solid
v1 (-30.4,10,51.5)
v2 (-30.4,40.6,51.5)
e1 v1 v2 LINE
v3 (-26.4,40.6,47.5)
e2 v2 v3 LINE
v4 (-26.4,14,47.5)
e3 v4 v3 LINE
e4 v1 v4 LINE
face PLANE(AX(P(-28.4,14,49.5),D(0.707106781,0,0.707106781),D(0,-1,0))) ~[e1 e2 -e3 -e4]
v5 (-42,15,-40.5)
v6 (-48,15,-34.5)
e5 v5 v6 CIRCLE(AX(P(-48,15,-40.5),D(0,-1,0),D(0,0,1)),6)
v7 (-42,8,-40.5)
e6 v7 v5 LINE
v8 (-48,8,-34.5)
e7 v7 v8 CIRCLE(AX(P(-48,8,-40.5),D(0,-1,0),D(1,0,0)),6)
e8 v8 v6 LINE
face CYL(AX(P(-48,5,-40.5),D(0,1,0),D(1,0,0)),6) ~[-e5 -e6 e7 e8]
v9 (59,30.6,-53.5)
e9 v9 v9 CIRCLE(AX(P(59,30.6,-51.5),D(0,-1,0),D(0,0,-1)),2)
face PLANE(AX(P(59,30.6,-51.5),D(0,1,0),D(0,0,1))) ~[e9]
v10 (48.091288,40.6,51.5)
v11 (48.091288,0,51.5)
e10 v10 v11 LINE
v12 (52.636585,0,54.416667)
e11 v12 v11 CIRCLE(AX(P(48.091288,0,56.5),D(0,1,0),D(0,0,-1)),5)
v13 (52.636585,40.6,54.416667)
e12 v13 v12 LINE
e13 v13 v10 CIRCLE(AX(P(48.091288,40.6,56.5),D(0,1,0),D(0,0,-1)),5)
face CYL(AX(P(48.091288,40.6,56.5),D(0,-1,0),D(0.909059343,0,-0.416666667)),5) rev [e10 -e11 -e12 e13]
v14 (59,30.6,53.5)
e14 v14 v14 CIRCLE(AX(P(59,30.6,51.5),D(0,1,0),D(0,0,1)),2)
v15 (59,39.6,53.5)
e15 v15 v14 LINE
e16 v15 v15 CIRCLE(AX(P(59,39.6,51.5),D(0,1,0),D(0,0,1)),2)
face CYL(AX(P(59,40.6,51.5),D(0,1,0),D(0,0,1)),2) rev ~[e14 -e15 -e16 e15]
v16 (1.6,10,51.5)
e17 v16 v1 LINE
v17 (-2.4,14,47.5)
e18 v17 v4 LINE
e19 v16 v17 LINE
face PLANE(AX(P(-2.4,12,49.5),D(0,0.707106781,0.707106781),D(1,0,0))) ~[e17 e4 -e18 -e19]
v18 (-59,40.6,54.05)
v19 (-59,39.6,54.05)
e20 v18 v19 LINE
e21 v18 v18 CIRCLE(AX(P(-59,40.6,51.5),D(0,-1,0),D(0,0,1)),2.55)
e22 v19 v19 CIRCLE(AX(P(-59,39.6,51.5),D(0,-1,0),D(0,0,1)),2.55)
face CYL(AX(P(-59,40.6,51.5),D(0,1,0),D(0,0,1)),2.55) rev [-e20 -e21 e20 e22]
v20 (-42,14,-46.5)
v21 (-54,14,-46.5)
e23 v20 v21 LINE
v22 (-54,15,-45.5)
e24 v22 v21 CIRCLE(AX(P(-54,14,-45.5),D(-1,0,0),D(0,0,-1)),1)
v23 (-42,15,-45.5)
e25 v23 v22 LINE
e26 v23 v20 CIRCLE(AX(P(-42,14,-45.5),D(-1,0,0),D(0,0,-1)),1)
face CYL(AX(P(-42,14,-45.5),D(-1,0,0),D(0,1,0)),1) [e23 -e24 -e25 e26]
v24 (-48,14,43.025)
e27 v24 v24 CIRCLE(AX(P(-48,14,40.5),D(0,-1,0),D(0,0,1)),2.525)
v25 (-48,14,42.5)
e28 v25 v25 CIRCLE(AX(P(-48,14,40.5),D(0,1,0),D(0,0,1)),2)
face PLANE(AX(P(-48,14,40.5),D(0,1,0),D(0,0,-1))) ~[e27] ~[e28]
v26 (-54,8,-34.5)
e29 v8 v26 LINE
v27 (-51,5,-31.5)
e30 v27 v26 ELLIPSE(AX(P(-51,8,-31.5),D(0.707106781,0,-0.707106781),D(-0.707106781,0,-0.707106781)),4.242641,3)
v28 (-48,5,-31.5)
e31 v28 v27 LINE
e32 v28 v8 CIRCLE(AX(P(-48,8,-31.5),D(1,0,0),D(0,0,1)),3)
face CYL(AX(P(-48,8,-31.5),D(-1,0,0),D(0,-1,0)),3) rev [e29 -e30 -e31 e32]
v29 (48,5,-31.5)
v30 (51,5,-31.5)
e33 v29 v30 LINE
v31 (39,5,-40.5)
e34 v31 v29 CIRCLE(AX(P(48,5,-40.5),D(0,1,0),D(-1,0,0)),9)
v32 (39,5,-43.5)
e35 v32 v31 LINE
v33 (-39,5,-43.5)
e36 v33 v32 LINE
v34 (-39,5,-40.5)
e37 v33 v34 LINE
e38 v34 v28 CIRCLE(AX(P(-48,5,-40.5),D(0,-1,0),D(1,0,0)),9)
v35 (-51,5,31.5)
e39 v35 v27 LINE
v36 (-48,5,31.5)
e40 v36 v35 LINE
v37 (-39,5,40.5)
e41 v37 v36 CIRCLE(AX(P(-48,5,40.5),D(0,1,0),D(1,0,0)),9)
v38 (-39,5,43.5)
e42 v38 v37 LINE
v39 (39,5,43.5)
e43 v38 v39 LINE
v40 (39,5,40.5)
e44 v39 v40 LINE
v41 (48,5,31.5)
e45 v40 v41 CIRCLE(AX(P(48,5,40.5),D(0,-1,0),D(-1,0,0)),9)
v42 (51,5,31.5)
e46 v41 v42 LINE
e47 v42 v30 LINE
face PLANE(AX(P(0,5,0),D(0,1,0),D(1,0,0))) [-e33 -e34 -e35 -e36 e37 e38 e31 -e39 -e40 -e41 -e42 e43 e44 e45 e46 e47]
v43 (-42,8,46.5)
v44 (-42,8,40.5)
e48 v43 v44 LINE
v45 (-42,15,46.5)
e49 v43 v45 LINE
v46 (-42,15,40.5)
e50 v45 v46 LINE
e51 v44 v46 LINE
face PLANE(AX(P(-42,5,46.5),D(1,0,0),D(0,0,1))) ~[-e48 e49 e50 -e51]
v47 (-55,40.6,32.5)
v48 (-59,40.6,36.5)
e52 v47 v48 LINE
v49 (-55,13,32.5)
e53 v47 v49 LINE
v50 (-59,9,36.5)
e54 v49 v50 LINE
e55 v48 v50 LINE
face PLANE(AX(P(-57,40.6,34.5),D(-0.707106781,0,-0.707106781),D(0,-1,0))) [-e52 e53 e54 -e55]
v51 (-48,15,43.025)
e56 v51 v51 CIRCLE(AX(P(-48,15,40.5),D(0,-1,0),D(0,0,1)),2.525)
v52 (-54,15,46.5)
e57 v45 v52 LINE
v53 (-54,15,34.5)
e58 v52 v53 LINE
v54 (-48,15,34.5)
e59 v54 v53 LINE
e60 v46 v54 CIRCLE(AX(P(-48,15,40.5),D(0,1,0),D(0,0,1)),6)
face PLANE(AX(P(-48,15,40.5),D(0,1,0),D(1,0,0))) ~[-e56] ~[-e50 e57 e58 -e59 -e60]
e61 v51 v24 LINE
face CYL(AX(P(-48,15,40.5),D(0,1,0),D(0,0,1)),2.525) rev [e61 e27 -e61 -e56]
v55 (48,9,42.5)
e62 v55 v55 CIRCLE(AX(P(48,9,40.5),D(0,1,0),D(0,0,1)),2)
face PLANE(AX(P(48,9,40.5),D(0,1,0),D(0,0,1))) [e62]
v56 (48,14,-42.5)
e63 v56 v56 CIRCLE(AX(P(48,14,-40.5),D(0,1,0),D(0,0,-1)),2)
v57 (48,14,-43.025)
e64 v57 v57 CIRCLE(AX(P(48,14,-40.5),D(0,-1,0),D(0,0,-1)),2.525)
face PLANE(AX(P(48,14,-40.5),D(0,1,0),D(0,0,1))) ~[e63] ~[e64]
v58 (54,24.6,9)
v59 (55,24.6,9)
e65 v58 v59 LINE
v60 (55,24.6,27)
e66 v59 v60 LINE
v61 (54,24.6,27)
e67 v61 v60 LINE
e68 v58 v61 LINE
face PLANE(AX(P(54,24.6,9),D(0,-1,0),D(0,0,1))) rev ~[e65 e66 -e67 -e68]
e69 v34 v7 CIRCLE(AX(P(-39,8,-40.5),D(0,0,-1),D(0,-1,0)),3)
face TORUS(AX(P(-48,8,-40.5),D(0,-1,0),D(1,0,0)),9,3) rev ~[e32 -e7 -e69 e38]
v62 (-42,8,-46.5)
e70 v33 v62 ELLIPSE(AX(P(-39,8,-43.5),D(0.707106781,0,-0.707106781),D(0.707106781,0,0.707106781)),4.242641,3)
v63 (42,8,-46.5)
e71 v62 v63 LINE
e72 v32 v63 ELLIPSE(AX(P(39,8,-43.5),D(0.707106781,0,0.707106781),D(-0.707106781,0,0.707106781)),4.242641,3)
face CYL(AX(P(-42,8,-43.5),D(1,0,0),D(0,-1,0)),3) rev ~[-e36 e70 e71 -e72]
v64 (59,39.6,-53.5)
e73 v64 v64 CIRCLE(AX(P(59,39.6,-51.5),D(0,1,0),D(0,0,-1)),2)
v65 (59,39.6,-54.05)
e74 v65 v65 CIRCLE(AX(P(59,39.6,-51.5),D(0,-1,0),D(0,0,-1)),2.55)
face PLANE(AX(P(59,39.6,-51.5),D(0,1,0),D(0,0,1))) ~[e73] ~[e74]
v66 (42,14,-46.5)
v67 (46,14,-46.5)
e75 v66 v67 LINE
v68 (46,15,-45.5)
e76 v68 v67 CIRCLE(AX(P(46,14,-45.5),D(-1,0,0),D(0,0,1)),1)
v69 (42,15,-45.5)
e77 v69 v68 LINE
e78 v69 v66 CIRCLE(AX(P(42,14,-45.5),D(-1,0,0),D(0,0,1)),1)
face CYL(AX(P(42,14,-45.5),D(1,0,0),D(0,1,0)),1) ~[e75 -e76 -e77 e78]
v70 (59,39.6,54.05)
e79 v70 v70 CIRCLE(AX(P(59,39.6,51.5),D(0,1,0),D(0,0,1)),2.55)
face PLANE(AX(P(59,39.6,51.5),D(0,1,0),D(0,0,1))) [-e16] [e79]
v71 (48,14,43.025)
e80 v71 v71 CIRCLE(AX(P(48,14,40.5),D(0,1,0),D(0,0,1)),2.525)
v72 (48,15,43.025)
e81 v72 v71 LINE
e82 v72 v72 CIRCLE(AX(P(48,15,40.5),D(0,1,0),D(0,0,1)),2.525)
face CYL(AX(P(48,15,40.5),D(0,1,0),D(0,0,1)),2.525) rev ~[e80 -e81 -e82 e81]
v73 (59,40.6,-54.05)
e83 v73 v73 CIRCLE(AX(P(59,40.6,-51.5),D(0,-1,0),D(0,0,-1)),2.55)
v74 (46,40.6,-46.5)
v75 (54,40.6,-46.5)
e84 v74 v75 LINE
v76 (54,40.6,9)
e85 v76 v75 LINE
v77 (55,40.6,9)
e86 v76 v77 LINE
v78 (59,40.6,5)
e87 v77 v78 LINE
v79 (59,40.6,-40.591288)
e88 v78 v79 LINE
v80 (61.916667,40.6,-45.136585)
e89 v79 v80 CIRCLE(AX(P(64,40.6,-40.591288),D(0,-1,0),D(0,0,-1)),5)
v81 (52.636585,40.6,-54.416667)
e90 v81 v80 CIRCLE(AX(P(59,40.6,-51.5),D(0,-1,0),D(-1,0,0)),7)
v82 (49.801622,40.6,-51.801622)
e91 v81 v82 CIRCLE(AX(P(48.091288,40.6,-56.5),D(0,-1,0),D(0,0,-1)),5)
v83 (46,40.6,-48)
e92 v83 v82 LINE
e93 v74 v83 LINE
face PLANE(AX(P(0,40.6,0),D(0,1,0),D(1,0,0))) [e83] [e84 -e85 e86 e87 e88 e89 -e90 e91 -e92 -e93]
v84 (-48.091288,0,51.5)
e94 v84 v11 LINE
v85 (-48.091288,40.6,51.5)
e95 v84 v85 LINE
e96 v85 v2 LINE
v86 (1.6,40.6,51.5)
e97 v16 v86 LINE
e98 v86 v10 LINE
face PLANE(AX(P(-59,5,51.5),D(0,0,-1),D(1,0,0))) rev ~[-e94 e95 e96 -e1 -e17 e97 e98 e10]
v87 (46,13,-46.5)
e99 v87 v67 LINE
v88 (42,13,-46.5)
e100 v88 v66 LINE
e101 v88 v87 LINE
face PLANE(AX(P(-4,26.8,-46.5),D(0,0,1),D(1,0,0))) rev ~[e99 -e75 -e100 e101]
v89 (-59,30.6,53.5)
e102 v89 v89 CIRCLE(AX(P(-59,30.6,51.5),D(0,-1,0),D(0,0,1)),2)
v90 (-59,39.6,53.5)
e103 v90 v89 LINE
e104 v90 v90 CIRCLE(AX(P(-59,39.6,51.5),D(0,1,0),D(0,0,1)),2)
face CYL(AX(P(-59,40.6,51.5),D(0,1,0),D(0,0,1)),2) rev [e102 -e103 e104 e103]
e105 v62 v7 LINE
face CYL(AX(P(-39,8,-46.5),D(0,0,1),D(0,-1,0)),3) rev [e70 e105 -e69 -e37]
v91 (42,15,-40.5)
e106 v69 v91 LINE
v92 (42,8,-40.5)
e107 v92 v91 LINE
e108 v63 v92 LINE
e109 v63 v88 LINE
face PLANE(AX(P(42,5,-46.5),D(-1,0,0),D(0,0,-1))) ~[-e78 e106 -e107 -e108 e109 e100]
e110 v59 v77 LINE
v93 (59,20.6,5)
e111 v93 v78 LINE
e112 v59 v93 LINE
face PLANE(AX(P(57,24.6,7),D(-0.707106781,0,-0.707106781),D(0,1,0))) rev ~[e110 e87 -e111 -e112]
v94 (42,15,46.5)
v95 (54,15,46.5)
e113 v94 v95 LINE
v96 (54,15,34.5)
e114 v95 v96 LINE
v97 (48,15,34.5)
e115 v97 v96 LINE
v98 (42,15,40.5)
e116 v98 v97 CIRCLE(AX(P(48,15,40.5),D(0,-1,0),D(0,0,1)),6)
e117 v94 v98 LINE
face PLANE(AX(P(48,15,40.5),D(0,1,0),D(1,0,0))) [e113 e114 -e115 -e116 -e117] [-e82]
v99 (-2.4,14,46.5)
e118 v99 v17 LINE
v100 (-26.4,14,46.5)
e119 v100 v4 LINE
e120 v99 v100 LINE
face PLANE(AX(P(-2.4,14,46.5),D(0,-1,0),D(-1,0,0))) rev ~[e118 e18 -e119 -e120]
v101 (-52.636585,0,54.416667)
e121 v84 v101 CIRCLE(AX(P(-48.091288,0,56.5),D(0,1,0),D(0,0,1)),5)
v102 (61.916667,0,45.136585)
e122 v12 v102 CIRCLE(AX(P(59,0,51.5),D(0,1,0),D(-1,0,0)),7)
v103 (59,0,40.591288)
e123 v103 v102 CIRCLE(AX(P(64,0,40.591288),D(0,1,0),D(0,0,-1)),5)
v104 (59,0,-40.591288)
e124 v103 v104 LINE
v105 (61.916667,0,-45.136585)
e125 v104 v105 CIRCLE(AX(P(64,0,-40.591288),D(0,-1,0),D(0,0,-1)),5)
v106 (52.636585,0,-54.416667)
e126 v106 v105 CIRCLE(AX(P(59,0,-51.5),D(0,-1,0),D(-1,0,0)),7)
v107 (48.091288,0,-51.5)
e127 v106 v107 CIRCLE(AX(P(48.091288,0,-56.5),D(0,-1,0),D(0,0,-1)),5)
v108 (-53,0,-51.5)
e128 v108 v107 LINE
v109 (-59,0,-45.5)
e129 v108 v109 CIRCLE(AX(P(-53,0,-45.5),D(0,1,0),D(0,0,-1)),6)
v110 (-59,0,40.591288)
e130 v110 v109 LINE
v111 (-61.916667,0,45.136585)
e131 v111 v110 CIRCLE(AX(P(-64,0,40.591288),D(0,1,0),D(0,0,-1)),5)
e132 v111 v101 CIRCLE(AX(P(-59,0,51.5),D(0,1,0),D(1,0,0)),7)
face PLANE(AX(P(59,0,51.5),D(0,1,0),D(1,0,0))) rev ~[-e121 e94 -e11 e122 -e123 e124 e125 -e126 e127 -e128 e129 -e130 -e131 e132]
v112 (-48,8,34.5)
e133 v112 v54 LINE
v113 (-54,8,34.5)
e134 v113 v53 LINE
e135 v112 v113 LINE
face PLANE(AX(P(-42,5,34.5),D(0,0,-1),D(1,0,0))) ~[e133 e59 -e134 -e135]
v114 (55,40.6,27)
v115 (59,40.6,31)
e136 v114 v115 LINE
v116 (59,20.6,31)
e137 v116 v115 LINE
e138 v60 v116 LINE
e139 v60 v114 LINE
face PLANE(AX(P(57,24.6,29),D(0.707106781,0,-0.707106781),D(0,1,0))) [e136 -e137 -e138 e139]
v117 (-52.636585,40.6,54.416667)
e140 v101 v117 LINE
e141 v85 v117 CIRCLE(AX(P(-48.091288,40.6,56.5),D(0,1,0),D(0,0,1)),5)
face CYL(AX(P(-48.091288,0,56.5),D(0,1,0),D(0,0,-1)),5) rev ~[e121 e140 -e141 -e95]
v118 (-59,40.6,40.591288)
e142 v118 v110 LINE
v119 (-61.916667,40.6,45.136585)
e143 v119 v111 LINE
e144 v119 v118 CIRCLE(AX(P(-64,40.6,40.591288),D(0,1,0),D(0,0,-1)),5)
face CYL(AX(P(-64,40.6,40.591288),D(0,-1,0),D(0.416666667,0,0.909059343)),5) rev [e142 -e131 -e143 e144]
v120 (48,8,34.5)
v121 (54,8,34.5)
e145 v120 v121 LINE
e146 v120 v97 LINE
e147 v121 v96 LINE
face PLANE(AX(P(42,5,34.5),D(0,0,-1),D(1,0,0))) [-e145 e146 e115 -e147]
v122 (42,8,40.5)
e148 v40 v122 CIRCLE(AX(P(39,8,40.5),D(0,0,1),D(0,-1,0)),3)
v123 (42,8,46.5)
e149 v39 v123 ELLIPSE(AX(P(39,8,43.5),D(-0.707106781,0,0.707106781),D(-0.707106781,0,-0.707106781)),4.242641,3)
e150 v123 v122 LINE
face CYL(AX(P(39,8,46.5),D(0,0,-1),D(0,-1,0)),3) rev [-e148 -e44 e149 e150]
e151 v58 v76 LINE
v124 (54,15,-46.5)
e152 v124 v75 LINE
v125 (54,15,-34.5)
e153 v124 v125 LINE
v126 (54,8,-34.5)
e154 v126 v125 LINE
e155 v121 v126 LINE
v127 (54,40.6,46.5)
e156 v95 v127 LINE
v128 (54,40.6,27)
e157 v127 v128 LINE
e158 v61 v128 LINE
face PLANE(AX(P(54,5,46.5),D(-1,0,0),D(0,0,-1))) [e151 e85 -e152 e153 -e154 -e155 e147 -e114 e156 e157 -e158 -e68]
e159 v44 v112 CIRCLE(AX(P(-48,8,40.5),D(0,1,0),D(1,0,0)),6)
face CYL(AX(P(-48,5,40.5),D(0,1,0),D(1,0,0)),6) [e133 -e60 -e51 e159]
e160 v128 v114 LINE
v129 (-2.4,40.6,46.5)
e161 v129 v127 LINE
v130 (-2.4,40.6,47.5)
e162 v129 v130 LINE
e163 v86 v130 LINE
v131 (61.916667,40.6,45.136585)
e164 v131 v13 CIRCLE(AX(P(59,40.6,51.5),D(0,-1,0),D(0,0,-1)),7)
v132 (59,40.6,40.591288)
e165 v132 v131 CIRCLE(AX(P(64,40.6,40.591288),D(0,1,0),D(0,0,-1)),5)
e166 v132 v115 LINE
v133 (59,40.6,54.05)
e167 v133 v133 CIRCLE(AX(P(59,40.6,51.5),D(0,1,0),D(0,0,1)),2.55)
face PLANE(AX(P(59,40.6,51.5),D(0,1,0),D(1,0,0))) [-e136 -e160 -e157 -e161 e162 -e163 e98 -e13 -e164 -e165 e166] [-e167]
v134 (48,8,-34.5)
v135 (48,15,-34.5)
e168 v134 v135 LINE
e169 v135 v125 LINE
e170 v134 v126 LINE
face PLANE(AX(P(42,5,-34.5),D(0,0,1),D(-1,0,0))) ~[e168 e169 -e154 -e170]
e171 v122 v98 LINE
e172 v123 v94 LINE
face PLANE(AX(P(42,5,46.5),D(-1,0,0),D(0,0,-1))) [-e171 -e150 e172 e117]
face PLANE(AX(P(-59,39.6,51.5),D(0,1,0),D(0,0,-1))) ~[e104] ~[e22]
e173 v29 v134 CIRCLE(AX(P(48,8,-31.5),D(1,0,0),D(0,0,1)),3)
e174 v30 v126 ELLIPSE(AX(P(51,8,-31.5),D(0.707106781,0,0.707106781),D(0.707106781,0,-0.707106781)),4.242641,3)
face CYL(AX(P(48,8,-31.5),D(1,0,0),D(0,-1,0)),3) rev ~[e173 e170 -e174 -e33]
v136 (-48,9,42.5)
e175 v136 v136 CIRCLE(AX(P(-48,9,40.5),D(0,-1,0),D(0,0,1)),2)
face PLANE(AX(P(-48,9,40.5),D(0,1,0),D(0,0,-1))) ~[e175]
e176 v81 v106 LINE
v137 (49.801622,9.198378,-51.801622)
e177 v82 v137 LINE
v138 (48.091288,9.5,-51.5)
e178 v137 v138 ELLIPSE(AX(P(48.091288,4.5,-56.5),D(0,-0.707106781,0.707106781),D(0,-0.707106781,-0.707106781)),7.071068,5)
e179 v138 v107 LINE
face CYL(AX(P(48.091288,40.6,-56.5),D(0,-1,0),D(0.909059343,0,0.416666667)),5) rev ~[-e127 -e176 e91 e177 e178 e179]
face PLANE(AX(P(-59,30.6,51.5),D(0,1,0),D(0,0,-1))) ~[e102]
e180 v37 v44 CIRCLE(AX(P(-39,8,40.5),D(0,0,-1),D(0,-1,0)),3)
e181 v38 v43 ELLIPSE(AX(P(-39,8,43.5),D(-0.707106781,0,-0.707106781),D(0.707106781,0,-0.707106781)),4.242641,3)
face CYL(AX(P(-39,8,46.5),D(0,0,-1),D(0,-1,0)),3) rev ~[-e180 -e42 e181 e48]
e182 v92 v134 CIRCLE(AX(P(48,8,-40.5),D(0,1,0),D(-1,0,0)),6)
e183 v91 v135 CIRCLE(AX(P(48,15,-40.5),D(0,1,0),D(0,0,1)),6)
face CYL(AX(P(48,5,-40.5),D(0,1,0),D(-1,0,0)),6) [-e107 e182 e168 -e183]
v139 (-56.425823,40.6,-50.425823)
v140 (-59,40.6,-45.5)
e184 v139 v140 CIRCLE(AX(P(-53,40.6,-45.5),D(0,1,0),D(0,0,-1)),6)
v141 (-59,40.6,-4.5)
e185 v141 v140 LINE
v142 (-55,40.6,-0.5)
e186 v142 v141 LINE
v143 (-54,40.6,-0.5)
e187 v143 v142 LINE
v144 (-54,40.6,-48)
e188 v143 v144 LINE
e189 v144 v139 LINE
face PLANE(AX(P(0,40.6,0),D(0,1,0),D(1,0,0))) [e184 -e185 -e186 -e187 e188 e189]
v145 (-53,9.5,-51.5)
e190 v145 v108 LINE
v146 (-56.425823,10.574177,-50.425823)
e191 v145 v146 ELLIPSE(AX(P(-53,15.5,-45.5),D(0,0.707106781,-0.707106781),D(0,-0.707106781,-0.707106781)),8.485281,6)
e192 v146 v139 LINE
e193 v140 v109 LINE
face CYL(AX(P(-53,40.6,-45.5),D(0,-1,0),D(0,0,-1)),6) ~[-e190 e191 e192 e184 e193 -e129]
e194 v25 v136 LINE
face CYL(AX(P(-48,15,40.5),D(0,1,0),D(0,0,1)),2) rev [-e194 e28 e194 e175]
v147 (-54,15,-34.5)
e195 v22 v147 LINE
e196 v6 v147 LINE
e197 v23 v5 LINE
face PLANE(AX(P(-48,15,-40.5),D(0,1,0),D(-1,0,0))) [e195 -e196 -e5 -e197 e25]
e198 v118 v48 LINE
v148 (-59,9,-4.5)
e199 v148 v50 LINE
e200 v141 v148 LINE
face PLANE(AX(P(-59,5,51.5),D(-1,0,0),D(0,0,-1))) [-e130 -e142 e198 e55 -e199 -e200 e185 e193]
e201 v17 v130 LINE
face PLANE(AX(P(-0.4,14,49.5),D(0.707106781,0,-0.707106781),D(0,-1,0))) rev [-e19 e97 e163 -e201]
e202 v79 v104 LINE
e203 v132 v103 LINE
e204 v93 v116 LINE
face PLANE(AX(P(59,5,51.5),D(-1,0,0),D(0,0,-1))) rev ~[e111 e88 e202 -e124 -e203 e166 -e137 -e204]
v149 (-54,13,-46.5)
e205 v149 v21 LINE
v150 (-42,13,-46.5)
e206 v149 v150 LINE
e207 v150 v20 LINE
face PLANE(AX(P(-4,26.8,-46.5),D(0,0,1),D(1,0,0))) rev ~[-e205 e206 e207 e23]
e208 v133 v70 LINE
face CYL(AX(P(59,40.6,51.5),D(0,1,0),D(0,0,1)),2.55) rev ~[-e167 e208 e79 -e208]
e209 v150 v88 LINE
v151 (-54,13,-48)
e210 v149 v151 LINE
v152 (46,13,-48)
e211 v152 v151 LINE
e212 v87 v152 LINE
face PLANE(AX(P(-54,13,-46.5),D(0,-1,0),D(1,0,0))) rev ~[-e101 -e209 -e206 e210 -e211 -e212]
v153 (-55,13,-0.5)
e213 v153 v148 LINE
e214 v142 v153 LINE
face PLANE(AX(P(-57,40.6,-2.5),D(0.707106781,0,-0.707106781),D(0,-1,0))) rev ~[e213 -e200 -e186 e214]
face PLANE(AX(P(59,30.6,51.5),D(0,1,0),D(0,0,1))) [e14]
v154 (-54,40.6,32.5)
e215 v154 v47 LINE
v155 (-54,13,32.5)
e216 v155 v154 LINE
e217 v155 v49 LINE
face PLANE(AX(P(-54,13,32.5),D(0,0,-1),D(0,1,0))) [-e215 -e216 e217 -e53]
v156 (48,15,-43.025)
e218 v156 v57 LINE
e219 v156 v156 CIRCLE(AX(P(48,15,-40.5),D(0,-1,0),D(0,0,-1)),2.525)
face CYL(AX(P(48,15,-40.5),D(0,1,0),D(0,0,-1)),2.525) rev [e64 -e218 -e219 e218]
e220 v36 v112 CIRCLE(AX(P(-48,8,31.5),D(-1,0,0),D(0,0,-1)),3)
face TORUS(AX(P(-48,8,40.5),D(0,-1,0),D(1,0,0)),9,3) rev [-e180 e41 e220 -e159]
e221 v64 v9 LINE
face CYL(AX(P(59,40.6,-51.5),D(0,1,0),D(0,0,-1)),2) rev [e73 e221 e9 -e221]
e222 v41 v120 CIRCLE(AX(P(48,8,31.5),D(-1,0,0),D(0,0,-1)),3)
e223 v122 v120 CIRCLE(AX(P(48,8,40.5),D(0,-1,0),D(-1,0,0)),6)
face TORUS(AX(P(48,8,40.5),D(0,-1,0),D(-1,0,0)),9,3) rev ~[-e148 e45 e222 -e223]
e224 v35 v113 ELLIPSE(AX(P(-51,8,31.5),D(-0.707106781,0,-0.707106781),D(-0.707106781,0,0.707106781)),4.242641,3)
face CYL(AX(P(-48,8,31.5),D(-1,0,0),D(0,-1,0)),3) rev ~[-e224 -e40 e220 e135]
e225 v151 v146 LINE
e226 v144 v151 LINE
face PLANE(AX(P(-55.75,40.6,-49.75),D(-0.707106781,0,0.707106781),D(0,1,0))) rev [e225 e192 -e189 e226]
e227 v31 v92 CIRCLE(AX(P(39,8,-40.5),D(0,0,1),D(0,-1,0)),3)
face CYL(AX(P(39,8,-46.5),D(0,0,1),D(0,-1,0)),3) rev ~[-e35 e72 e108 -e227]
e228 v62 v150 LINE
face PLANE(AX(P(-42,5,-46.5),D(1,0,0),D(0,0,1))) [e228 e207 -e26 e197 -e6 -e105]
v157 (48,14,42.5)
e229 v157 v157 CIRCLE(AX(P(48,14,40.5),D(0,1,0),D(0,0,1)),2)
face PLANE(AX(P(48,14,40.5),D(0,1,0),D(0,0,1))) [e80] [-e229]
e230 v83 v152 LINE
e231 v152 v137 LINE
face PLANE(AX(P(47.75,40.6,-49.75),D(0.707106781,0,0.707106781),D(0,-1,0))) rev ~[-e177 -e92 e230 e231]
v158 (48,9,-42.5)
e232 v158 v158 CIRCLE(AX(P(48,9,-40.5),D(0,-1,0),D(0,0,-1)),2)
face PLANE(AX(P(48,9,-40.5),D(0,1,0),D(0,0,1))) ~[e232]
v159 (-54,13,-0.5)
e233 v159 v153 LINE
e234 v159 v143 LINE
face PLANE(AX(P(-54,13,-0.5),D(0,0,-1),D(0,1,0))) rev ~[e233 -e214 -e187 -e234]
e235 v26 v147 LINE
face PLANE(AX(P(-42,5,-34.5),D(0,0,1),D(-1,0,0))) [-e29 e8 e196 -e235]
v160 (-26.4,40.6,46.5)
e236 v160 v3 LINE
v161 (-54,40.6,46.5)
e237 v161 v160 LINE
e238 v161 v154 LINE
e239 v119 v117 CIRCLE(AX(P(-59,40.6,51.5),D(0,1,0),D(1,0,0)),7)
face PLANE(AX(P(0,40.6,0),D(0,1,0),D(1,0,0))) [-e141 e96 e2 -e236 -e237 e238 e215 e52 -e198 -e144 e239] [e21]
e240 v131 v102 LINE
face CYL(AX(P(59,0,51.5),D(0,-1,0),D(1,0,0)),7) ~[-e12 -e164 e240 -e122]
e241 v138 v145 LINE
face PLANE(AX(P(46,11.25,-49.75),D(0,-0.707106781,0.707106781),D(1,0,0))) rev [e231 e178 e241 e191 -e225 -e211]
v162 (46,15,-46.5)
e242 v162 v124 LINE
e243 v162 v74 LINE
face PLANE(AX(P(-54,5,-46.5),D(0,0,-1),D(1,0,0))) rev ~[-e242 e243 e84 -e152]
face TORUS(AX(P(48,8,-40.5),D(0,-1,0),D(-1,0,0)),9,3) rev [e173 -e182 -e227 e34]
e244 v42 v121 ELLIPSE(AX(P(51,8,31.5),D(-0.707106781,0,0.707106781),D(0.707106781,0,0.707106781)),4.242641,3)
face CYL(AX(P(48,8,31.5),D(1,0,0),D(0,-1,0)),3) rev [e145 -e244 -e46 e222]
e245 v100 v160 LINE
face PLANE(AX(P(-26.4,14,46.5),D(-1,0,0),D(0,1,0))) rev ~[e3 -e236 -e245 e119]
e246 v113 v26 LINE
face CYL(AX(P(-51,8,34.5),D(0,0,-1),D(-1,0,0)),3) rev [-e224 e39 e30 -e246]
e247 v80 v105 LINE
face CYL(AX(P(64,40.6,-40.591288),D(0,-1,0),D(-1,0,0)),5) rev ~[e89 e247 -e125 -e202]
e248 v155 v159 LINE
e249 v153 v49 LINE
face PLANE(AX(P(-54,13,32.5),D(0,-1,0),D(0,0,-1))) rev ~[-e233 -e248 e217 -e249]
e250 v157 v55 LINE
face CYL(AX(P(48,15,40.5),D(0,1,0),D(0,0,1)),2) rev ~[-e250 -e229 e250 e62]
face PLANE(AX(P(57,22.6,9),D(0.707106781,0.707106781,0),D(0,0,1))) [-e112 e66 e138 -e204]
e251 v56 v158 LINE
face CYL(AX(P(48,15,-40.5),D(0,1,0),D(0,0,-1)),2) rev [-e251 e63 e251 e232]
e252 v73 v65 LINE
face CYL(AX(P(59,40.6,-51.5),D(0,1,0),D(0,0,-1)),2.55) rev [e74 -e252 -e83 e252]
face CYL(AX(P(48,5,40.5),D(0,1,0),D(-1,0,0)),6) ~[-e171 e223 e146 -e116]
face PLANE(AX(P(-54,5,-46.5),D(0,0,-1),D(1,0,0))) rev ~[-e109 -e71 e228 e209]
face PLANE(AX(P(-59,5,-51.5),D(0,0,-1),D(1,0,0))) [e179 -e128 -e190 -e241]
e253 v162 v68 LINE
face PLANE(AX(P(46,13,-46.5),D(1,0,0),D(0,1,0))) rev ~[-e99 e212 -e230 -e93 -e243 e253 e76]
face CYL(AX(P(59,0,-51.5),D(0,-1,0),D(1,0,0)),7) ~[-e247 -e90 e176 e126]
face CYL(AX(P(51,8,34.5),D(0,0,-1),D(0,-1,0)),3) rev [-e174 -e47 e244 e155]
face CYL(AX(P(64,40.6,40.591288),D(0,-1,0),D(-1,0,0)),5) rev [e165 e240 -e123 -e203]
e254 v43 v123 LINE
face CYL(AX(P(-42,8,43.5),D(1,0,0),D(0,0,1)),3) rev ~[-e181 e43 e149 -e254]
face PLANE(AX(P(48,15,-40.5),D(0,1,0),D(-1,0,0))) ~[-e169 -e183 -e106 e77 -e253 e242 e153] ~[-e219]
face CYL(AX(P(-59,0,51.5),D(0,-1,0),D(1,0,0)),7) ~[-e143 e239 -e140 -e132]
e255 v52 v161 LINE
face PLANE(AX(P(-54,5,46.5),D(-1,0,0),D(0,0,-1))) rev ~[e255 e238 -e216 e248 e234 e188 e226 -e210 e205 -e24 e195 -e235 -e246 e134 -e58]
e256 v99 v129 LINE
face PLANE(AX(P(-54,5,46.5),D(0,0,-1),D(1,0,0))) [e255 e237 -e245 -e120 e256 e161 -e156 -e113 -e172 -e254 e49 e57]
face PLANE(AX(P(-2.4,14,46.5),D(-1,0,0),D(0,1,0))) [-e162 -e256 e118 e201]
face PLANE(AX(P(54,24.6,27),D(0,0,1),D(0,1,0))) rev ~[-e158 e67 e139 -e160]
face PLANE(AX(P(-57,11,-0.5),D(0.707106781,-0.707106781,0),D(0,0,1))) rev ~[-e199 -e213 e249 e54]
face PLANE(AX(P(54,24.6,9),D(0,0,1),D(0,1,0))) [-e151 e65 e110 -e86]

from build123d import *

# Parameters (mm, degrees)
SKETCH1_W               = 118
SKETCH1_H               = 103
SKETCH1_W_2             = 108
SKETCH1_H_2             = 93
SKETCH1_W_3             = 106
SKETCH1_H_3             = 91
BOSS_EXTRUDE1_DEPTH     = 5
SKETCH2_W               = 118
SKETCH2_H               = 103
SKETCH2_W_2             = 108
SKETCH2_H_2             = 93
BOSS_EXTRUDE2_DEPTH     = 35.6
SKETCH3_W               = 12
SKETCH3_H               = 12
BOSS_EXTRUDE3_DEPTH     = 10
MIRROR5_COPY_1_SKETCH_W = 12
MIRROR5_COPY_1_SKETCH_H = 12
MIRROR5_COPY_1_DEPTH    = 10
SKETCH4_R               = 2
CUT_EXTRUDE1_DEPTH      = 6
SKETCH4_3_R             = 2.525
CUT_EXTRUDE2_DEPTH      = 1
SKETCH6_W               = 100
SKETCH6_H               = 27.6
CUT_EXTRUDE3_DEPTH      = 122.381052887
SKETCH7_W               = 33
SKETCH7_H               = 27.6
CUT_EXTRUDE4_DEPTH      = 131.650717564
SKETCH8_W               = 24
SKETCH8_H               = 26.6
CUT_EXTRUDE5_DEPTH      = 122.381052887
CHAMFER1_SIZE           = 3.5
SKETCH10_W              = 18
SKETCH10_H              = 16
CUT_EXTRUDE7_DEPTH      = 131.650717564
SKETCH11_R              = 7
BOSS_EXTRUDE4_DEPTH     = 40.6
FILLET1_R               = 6
CHAMFER2_SIZE           = 4
CHAMFER3_SIZE           = 4
FILLET2_R               = 3
CHAMFER4_SIZE           = 4
FILLET7_R               = 5
FILLET8_R               = 1
FILLET9_R               = 6
SKETCH12_R              = 2
CUT_EXTRUDE9_DEPTH      = 10
SKETCH12_3_R            = 2.55
CUT_EXTRUDE10_DEPTH     = 1


with BuildPart() as part:
    # Sketch1 → Boss-Extrude1 (new body)
    # profile 1 of 3: a face of its own
    with BuildSketch(Plane(origin=(0, 0, 0), x_dir=(1, 0, 0), z_dir=(0, 1, 0))):
        Rectangle(SKETCH1_W, SKETCH1_H)
        Rectangle(SKETCH1_W_2, SKETCH1_H_2, mode=Mode.SUBTRACT)
    # profile 2 of 3: a face of its own
    with BuildSketch(Plane(origin=(0, 0, 0), x_dir=(1, 0, 0), z_dir=(0, 1, 0))):
        Rectangle(SKETCH1_W_2, SKETCH1_H_2)
        Rectangle(SKETCH1_W_3, SKETCH1_H_3, mode=Mode.SUBTRACT)
    # profile 3 of 3: a face of its own
    with BuildSketch(Plane(origin=(0, 0, 0), x_dir=(1, 0, 0), z_dir=(0, 1, 0))):
        Rectangle(SKETCH1_W_3, SKETCH1_H_3)
    extrude(amount=BOSS_EXTRUDE1_DEPTH)

    # Sketch2 → Boss-Extrude2 (add)
    with BuildSketch(Plane(origin=(0, 5, 0), x_dir=(1, 0, 0), z_dir=(0, 1, 0))):
        Rectangle(SKETCH2_W, SKETCH2_H)
        Rectangle(SKETCH2_W_2, SKETCH2_H_2, mode=Mode.SUBTRACT)
    extrude(amount=BOSS_EXTRUDE2_DEPTH)

    # Sketch3 → Boss-Extrude3 (add)
    with BuildSketch(Plane(origin=(0, 5, 0), x_dir=(1, 0, 0), z_dir=(0, 1, 0))):
        with Locations((48, -40.5)):
            Rectangle(SKETCH3_W, SKETCH3_H)
    boss_extrude3 = extrude(amount=BOSS_EXTRUDE3_DEPTH)

    # Mirror4: Boss-Extrude3 across plane
    add(boss_extrude3.mirror(Plane(origin=(0, 0, 0), x_dir=(0, 0, 1), z_dir=(1, 0, 0))))

    # Mirror5: Boss-Extrude3 across plane
    add(boss_extrude3.mirror(Plane.XY))

    # Mirror5 copy 1 sketch → Mirror5 copy 1 (add)
    with BuildSketch(Plane(origin=(0, 5, 0), x_dir=(-1, 0, 0), z_dir=(0, 1, 0))):
        with Locations((48, -40.5)):
            Rectangle(MIRROR5_COPY_1_SKETCH_W, MIRROR5_COPY_1_SKETCH_H)
    extrude(amount=MIRROR5_COPY_1_DEPTH)

    # Sketch4 → Cut-Extrude1 (cut)
    with BuildSketch(Plane(origin=(0, 15, 0), x_dir=(1, 0, 0), z_dir=(0, 1, 0))):
        with Locations(Location((48, -40.5, 0), (0, 0, 270))):
            Circle(SKETCH4_R)
    cut_extrude1 = extrude(amount=-CUT_EXTRUDE1_DEPTH, mode=Mode.SUBTRACT)

    # Sketch4<3> → Cut-Extrude2 (cut)
    with BuildSketch(Plane(origin=(0, 15, 0), x_dir=(1, 0, 0), z_dir=(0, 1, 0))):
        with Locations(Location((48, -40.5, 0), (0, 0, 270))):
            Circle(SKETCH4_3_R)
    cut_extrude2 = extrude(amount=-CUT_EXTRUDE2_DEPTH, mode=Mode.SUBTRACT)

    # Mirror2: Boss-Extrude3, Cut-Extrude1, Cut-Extrude2 across plane
    add(boss_extrude3.mirror(Plane.XY))
    add(cut_extrude1.mirror(Plane.XY), mode=Mode.SUBTRACT)
    add(cut_extrude2.mirror(Plane.XY), mode=Mode.SUBTRACT)

    # Mirror2 at the second plane: Boss-Extrude3, Cut-Extrude1, Cut-Extrude2 across plane
    add(boss_extrude3.mirror(Plane(origin=(0, 0, 0), x_dir=(0, 0, 1), z_dir=(1, 0, 0))))
    add(cut_extrude1.mirror(Plane(origin=(0, 0, 0), x_dir=(0, 0, 1), z_dir=(1, 0, 0))), mode=Mode.SUBTRACT)
    add(cut_extrude2.mirror(Plane(origin=(0, 0, 0), x_dir=(0, 0, 1), z_dir=(1, 0, 0))), mode=Mode.SUBTRACT)

    # Sketch6 → Cut-Extrude3 (cut, through all)
    with BuildSketch(Plane.XY.offset(-46.5)):
        with Locations((-4, 26.8)):
            Rectangle(SKETCH6_W, SKETCH6_H)
    extrude(amount=-CUT_EXTRUDE3_DEPTH, mode=Mode.SUBTRACT)

    # Sketch7 → Cut-Extrude4 (cut, through all)
    with BuildSketch(Plane(origin=(-54, 0, 0), x_dir=(0, 0, -1), z_dir=(1, 0, 0))):
        with Locations((-16, 26.8)):
            Rectangle(SKETCH7_W, SKETCH7_H)
    extrude(amount=-CUT_EXTRUDE4_DEPTH, mode=Mode.SUBTRACT)

    # Sketch8 → Cut-Extrude5 (cut, through all)
    with BuildSketch(Plane(origin=(0, 0, 46.5), x_dir=(-1, 0, 0), z_dir=(0, 0, -1))):
        with Locations((14.4, 27.3)):
            Rectangle(SKETCH8_W, SKETCH8_H)
    extrude(amount=-CUT_EXTRUDE5_DEPTH, mode=Mode.SUBTRACT)

    # Chamfer1
    chamfer1_edges = [part.edges().sort_by_distance(p)[0] for p in [
        (-54, 26.8, -51.5),
        (46, 26.8, -51.5),
        (-4, 13, -51.5),
    ]]
    chamfer(chamfer1_edges, length=CHAMFER1_SIZE)

    # Sketch10 → Cut-Extrude7 (cut, through all)
    with BuildSketch(Plane.ZY.offset(-54)):
        with Locations((18, 32.6)):
            Rectangle(SKETCH10_W, SKETCH10_H)
    extrude(amount=-CUT_EXTRUDE7_DEPTH, mode=Mode.SUBTRACT)

    # Sketch11 → Boss-Extrude4 (add)
    with BuildSketch(Plane(origin=(0, 0, 0), x_dir=(1, 0, 0), z_dir=(0, 1, 0))):
        with Locations((59, -51.5)):
            Circle(SKETCH11_R)
        with Locations((59, 51.5)):
            Circle(SKETCH11_R)
        with Locations((-59, -51.5)):
            Circle(SKETCH11_R)
    extrude(amount=BOSS_EXTRUDE4_DEPTH)

    # Fillet1
    fillet1_edges = [part.edges().sort_by_distance(p)[0] for p in [
        (42, 10, 34.5),
        (-42, 10, 34.5),
        (-42, 10, -34.5),
        (42, 10, -34.5),
    ]]
    fillet(fillet1_edges, radius=FILLET1_R)

    # Chamfer2
    chamfer2_edges = [part.edges().sort_by_distance(p)[0] for p in [
        (-59, 26.8, 32.5),
        (-59, 26.8, -0.5),
        (-59, 13, 16),
    ]]
    chamfer(chamfer2_edges, length=CHAMFER2_SIZE)

    # Chamfer3
    chamfer3_edges = [part.edges().sort_by_distance(p)[0] for p in [
        (-26.4, 27.3, 51.5),
        (-14.4, 14, 51.5),
        (-2.4, 27.3, 51.5),
    ]]
    chamfer(chamfer3_edges, length=CHAMFER3_SIZE)

    # Fillet2
    fillet2_edges = [part.edges().sort_by_distance(p)[0] for p in [
        (-42, 5, 43.5),
        (-42, 5, -43.5),
        (42, 5, -43.5),
        (42, 5, 43.5),
        (-43.757359313, 5, 36.257359313),
        (-43.757359313, 5, -36.257359313),
        (43.757359313, 5, -36.257359313),
        (43.757359313, 5, 36.257359313),
        (54, 5, 0),
        (51, 5, 34.5),
        (0, 5, 46.5),
        (-51, 5, 34.5),
        (-54, 5, 0),
        (-51, 5, -34.5),
        (0, 5, -46.5),
        (51, 5, -34.5),
    ]]
    fillet(fillet2_edges, radius=FILLET2_R)

    # Chamfer4
    chamfer4_edges = [part.edges().sort_by_distance(p)[0] for p in [
        (59, 32.6, 9),
        (59, 32.6, 27),
        (59, 24.6, 18),
    ]]
    chamfer(chamfer4_edges, length=CHAMFER4_SIZE)

    # Fillet7
    fillet7_edges = [part.edges().sort_by_distance(p)[0] for p in [
        (52, 20.3, -51.5),
        (59, 20.3, -44.5),
        (59, 20.3, 44.5),
        (52, 20.3, 51.5),
        (-52, 20.3, 51.5),
        (-59, 20.3, 44.5),
    ]]
    fillet(fillet7_edges, radius=FILLET7_R)

    # Fillet8
    fillet8_edges = [part.edges().sort_by_distance(p)[0] for p in [
        (-48, 15, -46.5),
        (44, 15, -46.5),
    ]]
    fillet(fillet8_edges, radius=FILLET8_R)

    # Fillet9
    fillet9_edges = [part.edges().sort_by_distance(p)[0] for p in [
        (-59, 20.3, -51.5),
    ]]
    fillet(fillet9_edges, radius=FILLET9_R)

    # Sketch12 → Cut-Extrude9 (cut)
    with BuildSketch(Plane(origin=(0, 40.6, 0), x_dir=(1, 0, 0), z_dir=(0, 1, 0))):
        with Locations(Location((59, -51.5, 0), (0, 0, 270))):
            Circle(SKETCH12_R)
    cut_extrude9 = extrude(amount=-CUT_EXTRUDE9_DEPTH, mode=Mode.SUBTRACT)

    # Sketch12<3> → Cut-Extrude10 (cut)
    with BuildSketch(Plane(origin=(0, 40.6, 0), x_dir=(1, 0, 0), z_dir=(0, 1, 0))):
        with Locations(Location((59, -51.5, 0), (0, 0, 270))):
            Circle(SKETCH12_3_R)
    cut_extrude10 = extrude(amount=-CUT_EXTRUDE10_DEPTH, mode=Mode.SUBTRACT)

    # Mirror6: Cut-Extrude9, Cut-Extrude10 across plane
    add(cut_extrude9.mirror(Plane(origin=(0, 0, 0), x_dir=(0, 0, 1), z_dir=(1, 0, 0))), mode=Mode.SUBTRACT)
    add(cut_extrude10.mirror(Plane(origin=(0, 0, 0), x_dir=(0, 0, 1), z_dir=(1, 0, 0))), mode=Mode.SUBTRACT)

    # Mirror6 at the second plane: Cut-Extrude9, Cut-Extrude10 across plane
    add(cut_extrude9.mirror(Plane.XY), mode=Mode.SUBTRACT)
    add(cut_extrude10.mirror(Plane.XY), mode=Mode.SUBTRACT)


solid = part.part
